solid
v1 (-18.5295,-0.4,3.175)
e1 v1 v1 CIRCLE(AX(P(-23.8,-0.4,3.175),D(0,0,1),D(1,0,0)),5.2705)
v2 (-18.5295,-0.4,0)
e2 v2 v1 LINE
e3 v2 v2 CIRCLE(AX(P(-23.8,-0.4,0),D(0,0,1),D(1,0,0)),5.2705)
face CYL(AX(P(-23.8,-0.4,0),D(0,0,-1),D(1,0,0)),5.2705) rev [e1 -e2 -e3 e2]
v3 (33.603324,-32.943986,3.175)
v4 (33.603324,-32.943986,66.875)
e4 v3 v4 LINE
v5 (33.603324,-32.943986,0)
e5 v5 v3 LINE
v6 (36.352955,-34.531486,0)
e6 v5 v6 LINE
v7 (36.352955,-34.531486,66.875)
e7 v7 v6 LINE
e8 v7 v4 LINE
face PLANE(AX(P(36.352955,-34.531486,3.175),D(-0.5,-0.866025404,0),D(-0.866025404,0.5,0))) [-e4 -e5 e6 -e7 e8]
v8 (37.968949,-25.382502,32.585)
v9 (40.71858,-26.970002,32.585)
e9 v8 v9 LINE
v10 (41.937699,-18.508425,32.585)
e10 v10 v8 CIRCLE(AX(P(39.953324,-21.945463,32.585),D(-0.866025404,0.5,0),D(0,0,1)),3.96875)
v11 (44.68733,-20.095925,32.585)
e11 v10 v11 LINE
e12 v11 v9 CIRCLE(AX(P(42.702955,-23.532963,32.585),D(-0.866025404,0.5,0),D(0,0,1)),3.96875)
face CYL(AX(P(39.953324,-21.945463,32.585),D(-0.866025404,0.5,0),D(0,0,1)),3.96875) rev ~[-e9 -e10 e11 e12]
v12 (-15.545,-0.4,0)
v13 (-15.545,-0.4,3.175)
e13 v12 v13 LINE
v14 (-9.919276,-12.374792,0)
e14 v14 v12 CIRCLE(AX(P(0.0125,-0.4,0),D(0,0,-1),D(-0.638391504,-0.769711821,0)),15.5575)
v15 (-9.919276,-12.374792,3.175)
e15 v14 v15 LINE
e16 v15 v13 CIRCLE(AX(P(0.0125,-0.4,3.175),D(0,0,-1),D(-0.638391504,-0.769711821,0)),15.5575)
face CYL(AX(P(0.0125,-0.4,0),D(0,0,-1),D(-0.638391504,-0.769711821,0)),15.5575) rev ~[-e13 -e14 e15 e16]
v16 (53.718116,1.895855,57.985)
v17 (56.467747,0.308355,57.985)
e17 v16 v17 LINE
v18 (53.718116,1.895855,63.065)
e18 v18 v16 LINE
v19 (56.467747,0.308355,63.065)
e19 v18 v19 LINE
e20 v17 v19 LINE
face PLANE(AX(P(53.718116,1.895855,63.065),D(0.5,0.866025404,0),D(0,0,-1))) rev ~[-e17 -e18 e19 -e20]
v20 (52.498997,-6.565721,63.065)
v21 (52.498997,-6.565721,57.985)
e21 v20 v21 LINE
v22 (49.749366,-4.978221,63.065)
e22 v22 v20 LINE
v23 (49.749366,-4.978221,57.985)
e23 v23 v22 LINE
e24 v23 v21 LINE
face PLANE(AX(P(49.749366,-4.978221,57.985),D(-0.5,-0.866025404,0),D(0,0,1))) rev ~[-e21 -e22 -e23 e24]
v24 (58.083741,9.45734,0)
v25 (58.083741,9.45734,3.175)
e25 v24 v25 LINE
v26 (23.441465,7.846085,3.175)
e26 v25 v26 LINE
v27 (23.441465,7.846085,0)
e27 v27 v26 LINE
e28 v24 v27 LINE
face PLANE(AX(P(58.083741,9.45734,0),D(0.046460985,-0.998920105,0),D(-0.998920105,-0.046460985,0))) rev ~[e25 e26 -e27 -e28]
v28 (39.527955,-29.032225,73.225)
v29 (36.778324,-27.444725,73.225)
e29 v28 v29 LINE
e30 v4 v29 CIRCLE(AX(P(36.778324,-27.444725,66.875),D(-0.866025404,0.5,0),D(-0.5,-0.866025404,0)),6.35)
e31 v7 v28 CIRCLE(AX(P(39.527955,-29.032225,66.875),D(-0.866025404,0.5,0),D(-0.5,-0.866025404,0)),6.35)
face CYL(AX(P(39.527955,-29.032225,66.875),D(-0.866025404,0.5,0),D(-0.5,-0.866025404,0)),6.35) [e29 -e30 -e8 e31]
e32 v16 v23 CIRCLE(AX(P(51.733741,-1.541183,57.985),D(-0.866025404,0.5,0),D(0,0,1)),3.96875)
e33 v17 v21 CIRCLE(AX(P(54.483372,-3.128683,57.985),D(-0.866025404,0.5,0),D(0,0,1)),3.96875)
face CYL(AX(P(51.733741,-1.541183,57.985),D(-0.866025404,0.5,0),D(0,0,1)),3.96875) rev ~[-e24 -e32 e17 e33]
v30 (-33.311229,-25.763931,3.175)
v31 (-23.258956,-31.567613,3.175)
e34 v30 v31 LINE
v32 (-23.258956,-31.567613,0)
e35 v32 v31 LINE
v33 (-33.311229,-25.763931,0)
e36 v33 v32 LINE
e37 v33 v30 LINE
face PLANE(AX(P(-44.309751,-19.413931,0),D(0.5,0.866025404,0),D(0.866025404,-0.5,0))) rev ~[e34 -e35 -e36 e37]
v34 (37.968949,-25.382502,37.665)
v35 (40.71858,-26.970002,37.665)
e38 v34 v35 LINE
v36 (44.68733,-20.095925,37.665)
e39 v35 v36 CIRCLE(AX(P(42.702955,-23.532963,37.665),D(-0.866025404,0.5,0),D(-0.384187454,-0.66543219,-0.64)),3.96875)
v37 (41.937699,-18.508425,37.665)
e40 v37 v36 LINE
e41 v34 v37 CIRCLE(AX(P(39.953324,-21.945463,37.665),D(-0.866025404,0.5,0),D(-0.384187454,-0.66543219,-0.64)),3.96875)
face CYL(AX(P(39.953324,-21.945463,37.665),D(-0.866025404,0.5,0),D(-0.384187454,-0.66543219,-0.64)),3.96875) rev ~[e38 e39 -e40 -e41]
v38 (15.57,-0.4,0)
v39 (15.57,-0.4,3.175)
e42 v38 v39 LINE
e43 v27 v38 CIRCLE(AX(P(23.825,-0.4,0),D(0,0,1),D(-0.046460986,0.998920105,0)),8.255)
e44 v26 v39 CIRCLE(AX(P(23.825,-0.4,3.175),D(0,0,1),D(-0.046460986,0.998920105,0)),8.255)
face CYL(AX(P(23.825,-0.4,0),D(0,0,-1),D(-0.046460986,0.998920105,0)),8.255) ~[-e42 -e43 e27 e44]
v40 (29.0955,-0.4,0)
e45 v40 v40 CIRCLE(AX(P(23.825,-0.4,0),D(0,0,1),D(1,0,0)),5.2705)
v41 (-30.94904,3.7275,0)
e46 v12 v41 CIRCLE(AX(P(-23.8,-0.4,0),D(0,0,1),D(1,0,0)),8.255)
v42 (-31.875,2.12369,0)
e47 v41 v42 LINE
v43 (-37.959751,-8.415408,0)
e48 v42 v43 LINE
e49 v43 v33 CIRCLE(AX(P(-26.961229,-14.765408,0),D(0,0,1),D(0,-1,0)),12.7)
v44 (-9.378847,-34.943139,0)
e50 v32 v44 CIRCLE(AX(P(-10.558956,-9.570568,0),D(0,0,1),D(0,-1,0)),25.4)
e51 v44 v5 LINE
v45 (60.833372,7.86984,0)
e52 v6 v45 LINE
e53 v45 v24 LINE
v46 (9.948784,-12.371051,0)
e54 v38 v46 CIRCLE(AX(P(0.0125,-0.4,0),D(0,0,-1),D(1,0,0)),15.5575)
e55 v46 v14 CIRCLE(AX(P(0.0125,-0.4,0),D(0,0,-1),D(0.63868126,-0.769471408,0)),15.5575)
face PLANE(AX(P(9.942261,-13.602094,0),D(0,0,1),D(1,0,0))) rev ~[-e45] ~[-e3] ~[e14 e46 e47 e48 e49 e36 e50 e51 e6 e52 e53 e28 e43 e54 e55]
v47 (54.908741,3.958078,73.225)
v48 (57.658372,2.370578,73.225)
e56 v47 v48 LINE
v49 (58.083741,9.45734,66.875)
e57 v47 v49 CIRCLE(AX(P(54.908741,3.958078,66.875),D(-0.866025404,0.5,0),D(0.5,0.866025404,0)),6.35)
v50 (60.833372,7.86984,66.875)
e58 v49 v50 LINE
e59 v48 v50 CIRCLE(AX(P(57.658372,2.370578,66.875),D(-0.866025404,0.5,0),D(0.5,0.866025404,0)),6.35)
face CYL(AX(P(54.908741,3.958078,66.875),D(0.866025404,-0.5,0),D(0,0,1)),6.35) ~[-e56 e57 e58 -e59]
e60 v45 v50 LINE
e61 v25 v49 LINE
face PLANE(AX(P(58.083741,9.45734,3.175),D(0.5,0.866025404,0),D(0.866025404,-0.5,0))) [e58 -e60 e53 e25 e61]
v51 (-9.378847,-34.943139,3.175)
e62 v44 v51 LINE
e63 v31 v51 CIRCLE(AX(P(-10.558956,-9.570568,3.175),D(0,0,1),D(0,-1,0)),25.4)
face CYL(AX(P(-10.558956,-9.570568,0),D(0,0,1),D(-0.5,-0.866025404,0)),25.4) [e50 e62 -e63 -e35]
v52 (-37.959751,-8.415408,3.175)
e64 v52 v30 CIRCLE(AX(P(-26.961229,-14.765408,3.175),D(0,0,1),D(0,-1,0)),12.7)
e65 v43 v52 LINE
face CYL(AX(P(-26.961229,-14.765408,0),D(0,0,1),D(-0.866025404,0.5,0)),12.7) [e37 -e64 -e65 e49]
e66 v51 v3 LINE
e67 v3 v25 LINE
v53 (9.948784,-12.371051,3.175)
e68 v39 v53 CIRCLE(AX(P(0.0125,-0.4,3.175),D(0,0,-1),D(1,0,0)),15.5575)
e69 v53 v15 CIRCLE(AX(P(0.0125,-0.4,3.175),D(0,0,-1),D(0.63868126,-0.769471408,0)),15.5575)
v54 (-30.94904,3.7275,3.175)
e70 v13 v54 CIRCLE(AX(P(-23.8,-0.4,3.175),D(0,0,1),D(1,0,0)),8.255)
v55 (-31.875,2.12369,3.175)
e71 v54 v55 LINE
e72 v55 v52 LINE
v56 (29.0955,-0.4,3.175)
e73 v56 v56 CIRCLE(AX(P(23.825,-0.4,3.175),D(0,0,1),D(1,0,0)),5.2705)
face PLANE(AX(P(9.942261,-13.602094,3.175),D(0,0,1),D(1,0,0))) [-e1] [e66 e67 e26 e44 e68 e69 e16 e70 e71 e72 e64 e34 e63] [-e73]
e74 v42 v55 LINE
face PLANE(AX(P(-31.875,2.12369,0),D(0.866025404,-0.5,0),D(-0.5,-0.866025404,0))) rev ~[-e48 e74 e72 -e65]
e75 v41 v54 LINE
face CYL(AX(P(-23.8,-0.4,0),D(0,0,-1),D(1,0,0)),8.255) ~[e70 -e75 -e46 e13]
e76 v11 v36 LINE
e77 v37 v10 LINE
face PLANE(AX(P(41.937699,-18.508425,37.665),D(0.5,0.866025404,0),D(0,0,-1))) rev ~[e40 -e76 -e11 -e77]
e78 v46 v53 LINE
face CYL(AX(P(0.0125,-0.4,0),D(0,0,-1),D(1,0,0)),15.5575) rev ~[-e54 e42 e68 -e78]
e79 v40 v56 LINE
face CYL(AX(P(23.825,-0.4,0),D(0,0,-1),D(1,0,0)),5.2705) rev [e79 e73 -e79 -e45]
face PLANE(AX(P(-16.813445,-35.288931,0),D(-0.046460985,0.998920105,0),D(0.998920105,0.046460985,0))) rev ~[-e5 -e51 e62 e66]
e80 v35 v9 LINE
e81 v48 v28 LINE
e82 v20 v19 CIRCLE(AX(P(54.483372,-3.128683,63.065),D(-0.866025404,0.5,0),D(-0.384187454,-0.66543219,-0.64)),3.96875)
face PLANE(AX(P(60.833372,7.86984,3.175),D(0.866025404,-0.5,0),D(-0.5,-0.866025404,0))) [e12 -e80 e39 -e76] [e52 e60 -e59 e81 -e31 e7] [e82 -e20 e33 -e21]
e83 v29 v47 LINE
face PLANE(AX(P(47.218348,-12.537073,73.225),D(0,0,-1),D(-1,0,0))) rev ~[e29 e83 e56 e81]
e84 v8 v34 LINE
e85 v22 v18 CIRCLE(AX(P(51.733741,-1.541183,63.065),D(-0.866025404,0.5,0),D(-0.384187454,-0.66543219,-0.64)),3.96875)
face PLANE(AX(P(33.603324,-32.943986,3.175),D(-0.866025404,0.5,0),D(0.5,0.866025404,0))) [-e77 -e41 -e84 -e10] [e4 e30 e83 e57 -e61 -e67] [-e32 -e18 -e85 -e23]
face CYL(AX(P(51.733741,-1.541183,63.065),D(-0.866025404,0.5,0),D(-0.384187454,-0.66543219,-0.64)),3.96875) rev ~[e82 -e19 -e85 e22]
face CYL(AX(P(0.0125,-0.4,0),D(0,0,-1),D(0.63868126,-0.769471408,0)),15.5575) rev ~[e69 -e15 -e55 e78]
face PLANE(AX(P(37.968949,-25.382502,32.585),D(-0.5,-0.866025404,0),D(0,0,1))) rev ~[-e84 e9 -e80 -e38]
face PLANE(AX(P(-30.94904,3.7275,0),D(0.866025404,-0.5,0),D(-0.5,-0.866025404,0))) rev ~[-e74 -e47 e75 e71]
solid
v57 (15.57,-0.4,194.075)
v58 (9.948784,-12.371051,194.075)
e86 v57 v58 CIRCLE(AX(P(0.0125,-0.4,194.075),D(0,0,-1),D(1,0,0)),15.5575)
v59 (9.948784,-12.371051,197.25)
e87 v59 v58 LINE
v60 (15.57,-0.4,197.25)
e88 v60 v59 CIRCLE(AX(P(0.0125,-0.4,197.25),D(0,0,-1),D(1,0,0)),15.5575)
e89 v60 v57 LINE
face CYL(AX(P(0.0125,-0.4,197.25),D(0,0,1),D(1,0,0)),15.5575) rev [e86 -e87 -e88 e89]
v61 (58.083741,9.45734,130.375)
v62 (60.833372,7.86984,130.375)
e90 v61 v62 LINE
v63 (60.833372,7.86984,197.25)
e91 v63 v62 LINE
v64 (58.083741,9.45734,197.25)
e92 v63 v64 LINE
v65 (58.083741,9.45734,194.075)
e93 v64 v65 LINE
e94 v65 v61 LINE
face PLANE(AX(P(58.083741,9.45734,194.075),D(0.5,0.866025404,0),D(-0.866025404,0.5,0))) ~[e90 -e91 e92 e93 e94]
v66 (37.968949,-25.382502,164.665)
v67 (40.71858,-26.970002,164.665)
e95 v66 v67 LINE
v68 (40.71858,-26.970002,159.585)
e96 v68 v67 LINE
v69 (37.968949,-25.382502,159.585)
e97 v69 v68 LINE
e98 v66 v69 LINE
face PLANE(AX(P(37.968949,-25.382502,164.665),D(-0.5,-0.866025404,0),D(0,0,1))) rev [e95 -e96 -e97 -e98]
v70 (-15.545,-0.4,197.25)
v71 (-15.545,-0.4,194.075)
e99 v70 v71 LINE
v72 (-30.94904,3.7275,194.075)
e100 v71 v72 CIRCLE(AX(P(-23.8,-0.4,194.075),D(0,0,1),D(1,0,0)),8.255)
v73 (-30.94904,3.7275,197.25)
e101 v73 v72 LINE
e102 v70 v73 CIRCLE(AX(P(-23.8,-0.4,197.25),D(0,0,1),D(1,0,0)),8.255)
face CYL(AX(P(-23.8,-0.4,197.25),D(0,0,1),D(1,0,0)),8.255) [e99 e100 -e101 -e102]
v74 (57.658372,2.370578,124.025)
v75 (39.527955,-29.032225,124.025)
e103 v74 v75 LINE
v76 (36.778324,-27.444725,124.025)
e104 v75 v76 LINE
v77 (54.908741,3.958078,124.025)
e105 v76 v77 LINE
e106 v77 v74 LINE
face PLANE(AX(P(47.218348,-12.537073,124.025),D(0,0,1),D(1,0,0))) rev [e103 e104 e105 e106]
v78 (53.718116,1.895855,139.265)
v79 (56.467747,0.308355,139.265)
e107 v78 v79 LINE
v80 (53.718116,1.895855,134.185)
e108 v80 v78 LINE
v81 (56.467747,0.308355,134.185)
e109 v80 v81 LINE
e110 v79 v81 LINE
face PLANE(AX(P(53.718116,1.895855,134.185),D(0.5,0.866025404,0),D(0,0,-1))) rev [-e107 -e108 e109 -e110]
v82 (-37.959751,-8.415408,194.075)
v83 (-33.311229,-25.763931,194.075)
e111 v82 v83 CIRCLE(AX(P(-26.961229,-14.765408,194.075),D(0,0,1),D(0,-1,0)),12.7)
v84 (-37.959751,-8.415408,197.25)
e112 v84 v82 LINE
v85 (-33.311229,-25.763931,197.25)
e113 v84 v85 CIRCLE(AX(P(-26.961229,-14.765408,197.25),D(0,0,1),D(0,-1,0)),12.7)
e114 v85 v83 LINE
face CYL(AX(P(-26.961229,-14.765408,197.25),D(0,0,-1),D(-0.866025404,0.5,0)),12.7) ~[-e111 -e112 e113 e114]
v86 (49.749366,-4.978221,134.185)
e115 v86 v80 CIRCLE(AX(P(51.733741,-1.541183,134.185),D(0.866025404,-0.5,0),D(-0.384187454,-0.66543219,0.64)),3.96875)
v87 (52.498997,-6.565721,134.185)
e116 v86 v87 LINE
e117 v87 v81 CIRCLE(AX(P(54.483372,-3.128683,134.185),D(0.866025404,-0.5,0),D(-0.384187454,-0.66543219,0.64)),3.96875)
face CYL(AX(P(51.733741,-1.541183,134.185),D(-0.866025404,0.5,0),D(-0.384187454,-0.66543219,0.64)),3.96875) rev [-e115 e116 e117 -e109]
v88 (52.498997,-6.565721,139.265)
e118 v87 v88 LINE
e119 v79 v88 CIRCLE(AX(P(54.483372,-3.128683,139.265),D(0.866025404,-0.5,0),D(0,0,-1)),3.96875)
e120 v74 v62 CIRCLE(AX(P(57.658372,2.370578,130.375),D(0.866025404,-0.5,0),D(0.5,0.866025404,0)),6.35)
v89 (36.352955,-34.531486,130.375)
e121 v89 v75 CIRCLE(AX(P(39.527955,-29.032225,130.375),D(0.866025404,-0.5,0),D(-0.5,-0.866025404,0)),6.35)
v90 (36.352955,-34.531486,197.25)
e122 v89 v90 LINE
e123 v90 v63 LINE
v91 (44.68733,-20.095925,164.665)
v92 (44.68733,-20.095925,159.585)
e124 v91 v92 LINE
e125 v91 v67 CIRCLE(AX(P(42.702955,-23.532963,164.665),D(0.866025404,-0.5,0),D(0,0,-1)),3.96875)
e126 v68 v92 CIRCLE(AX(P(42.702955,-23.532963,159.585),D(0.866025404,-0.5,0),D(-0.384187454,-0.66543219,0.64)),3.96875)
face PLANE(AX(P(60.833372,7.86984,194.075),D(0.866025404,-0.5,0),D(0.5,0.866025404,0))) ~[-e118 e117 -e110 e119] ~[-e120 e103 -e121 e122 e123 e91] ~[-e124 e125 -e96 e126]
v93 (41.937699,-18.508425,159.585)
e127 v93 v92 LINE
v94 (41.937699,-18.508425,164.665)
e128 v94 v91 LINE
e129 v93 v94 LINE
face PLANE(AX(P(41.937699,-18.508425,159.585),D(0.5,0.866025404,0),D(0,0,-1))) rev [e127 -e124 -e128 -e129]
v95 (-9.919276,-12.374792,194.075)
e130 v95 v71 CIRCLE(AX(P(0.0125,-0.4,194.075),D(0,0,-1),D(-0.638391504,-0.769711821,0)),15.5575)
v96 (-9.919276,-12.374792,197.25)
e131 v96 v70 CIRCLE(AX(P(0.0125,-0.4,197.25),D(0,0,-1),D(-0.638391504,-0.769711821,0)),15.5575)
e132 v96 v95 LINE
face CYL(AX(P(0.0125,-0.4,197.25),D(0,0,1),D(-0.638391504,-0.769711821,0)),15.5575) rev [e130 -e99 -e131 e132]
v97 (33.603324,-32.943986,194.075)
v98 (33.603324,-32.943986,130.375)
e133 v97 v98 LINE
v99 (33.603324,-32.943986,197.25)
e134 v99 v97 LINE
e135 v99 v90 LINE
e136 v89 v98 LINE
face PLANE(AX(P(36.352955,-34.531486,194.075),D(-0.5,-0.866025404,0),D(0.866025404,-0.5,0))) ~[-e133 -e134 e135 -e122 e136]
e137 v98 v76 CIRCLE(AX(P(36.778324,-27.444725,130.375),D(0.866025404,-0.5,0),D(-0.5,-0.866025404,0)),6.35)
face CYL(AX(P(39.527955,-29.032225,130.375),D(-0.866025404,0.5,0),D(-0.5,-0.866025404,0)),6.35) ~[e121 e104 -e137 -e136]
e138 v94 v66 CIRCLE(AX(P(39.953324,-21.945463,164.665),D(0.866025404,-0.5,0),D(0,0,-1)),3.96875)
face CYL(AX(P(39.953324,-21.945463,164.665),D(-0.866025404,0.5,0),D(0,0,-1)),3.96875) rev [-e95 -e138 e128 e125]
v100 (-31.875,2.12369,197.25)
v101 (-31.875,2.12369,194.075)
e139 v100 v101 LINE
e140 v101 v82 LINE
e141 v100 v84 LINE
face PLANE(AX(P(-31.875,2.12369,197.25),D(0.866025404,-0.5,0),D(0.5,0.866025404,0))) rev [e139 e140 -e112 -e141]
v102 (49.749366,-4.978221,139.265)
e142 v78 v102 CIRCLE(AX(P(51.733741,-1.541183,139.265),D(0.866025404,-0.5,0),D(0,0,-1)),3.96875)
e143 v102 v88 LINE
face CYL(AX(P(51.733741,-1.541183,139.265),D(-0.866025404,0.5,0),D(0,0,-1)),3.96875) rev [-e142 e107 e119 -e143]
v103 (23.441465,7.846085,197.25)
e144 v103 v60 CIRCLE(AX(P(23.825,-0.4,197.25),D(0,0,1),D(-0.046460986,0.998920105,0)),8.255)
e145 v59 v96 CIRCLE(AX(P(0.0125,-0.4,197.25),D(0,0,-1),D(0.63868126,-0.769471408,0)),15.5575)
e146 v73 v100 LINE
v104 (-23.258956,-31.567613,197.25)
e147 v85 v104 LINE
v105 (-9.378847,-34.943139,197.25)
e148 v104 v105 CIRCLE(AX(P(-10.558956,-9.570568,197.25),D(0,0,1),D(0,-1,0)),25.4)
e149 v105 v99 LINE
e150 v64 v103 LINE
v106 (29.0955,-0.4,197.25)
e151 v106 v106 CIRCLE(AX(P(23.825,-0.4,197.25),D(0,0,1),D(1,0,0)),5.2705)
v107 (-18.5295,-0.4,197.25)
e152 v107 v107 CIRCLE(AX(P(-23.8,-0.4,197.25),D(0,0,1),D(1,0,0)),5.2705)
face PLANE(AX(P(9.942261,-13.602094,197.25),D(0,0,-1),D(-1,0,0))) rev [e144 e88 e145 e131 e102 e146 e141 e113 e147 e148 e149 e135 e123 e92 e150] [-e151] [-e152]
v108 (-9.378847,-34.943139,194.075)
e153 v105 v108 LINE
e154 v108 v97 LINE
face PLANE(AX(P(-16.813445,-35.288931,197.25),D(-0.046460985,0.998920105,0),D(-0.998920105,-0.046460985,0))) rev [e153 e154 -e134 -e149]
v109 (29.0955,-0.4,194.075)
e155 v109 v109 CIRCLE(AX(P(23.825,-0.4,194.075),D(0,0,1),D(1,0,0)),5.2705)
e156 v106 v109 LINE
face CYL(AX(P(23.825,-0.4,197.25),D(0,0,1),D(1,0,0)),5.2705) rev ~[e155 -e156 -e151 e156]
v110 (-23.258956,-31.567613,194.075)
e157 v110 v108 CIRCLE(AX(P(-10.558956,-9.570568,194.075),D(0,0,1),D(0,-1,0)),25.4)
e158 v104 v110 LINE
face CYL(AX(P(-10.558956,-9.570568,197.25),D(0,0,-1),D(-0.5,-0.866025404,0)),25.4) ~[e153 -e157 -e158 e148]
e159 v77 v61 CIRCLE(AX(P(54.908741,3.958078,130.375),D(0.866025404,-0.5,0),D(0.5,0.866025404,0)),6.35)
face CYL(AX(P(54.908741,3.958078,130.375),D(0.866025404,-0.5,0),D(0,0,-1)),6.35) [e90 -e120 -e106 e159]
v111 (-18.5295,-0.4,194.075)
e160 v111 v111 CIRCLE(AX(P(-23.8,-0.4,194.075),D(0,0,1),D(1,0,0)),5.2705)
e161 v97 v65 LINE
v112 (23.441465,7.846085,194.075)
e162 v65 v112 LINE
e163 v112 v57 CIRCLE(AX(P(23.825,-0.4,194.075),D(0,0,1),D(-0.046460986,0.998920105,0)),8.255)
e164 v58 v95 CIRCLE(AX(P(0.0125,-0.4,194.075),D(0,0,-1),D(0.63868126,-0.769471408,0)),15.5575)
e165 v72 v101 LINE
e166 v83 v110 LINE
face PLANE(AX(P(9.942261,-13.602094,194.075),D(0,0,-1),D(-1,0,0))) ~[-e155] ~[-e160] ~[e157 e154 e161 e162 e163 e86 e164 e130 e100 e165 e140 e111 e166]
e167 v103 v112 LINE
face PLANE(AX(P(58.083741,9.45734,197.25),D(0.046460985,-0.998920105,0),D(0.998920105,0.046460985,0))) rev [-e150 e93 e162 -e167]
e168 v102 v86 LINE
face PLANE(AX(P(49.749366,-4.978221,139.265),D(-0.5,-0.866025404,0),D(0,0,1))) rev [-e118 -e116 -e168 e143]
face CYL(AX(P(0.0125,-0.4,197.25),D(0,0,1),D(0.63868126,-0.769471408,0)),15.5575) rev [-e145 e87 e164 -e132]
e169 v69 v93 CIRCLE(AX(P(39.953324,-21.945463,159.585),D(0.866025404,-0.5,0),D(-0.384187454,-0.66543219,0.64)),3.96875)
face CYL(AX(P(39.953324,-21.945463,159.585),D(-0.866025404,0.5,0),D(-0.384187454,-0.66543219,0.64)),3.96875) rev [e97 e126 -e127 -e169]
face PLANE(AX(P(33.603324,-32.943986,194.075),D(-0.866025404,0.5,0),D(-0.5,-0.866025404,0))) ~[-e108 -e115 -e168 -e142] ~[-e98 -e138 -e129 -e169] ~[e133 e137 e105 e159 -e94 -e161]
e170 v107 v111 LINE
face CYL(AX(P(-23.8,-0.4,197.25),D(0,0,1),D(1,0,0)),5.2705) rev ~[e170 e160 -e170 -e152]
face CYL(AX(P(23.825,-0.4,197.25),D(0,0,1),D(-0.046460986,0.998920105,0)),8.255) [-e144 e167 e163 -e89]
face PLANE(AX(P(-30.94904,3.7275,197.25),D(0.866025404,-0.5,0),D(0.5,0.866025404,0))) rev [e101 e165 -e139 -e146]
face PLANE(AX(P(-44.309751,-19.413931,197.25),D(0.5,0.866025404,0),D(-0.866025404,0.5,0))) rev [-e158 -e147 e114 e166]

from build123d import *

# Parameters (mm, degrees)
SKETCH3_R           = 5.2705
BOSS_EXTRUDE1_DEPTH = 3.175
BOSS_EXTRUDE2_DEPTH = 70.05
FILLET1_R           = 12.7
FILLET3_R           = 25.4
SKETCH5_R           = 3.96875
CUT_EXTRUDE1_DEPTH  = 6.35
FILLET4_R           = 6.35


with BuildPart() as part:
    # Sketch3 → Boss-Extrude1 (new body)
    with BuildSketch(Plane.XY):
        with BuildLine():
            Line((-31.875, 1.314467847), (-31.875, 2.123689729))
            Line((-31.875, 2.123689729), (-44.309751158, -19.413931056))
            Line((-44.309751158, -19.413931056), (-16.813444588, -35.288931056))
            Line((-16.813444588, -35.288931056), (33.603324087, -32.943986013))
            Line((33.603324087, -32.943986013), (36.352954744, -34.531486013))
            Line((36.352954744, -34.531486013), (60.833371586, 7.869839748))
            Line((60.833371586, 7.869839748), (58.083740929, 9.457339748))
            Line((58.083740929, 9.457339748), (23.441464566, 7.84608547))
            ThreePointArc((23.441464566, 7.84608547), (28.824079828, 6.169187612), (31.875, 1.428257367))
            ThreePointArc((31.875, 1.428257367), (32.028589915, 0.519857326), (32.08, -0.4))
            ThreePointArc((32.08, -0.4), (32.028589915, -1.319857326), (31.875, -2.228257367))
            Line((31.875, -2.228257367), (31.875, -6.284053394))
            ThreePointArc((31.875, -6.284053394), (21.132205448, -10.12115273), (9.948783703, -12.371051434))
            ThreePointArc((9.948783703, -12.371051434), (0.015428746, -15.957499724), (-9.919275826, -12.374791656))
            ThreePointArc((-9.919275826, -12.374791656), (-21.117875037, -10.125129582), (-31.875, -6.284053394))
            Line((-31.875, -6.284053394), (-31.875, -2.114467847))
            ThreePointArc((-31.875, -2.114467847), (-32.055, -0.4), (-31.875, 1.314467847))
        make_face()
        with BuildLine():
            ThreePointArc((15.57, -0.4), (14.094750174, -7.012566542), (9.948783703, -12.371051434))
            ThreePointArc((9.948783703, -12.371051434), (21.132205448, -10.12115273), (31.875, -6.284053394))
            Line((31.875, -6.284053394), (31.875, -2.228257367))
            ThreePointArc((31.875, -2.228257367), (22.905142674, -8.603589915), (15.57, -0.4))
        make_face()
        with BuildLine():
            ThreePointArc((23.441464566, 7.84608547), (17.853772739, 5.299953508), (15.57, -0.4))
            ThreePointArc((15.57, -0.4), (22.905142674, -8.603589915), (31.875, -2.228257367))
            Line((31.875, -2.228257367), (31.875, 1.428257367))
            ThreePointArc((31.875, 1.428257367), (28.824079828, 6.169187612), (23.441464566, 7.84608547))
        make_face()
        with Locations((23.825, -0.4)):
            Circle(SKETCH3_R, mode=Mode.SUBTRACT)
        with BuildLine():
            ThreePointArc((-9.919275826, -12.374791656), (-14.068505089, -7.015217451), (-15.545, -0.4))
            ThreePointArc((-15.545, -0.4), (-22.938054526, -8.609876674), (-31.875, -2.114467847))
            Line((-31.875, -2.114467847), (-31.875, -6.284053394))
            ThreePointArc((-31.875, -6.284053394), (-21.117875037, -10.125129582), (-9.919275826, -12.374791656))
        make_face()
        with BuildLine():
            ThreePointArc((-15.545, -0.4), (-21.663448783, 7.573717696), (-30.949039708, 3.7275))
            ThreePointArc((-30.949039708, 3.7275), (-31.507044005, 2.557447835), (-31.875, 1.314467847))
            Line((-31.875, 1.314467847), (-31.875, -2.114467847))
            ThreePointArc((-31.875, -2.114467847), (-22.938054526, -8.609876674), (-15.545, -0.4))
        make_face()
        with Locations((-23.8, -0.4)):
            Circle(SKETCH3_R, mode=Mode.SUBTRACT)
        with BuildLine():
            Line((31.875, 1.428257367), (31.875, -2.228257367))
            ThreePointArc((31.875, -2.228257367), (32.028589915, -1.319857326), (32.08, -0.4))
            ThreePointArc((32.08, -0.4), (32.028589915, 0.519857326), (31.875, 1.428257367))
        make_face()
        with BuildLine():
            Line((-31.875, -2.114467847), (-31.875, 1.314467847))
            ThreePointArc((-31.875, 1.314467847), (-32.055, -0.4), (-31.875, -2.114467847))
        make_face()
        with BuildLine():
            ThreePointArc((-31.875, 1.314467847), (-31.507044005, 2.557447835), (-30.949039708, 3.7275))
            Line((-30.949039708, 3.7275), (-31.875, 2.123689729))
            Line((-31.875, 2.123689729), (-31.875, 1.314467847))
        make_face()
    extrude(amount=BOSS_EXTRUDE1_DEPTH)

    # Sketch4 → Boss-Extrude2 (add)
    with BuildSketch(Plane.XY.offset(3.175)):
        Polygon((60.833371586, 7.869839748), (36.352954744, -34.531486013), (33.603324087, -32.943986013), (58.083740929, 9.457339748), align=None)
    extrude(amount=BOSS_EXTRUDE2_DEPTH)

    # Fillet1
    fillet1_edges = [part.edges().sort_by_distance(p)[0] for p in [
        (-44.309751158, -19.413931056, 1.5875),
    ]]
    fillet(fillet1_edges, radius=FILLET1_R)

    # Fillet3
    fillet3_edges = [part.edges().sort_by_distance(p)[0] for p in [
        (-16.813444588, -35.288931056, 1.5875),
    ]]
    fillet(fillet3_edges, radius=FILLET3_R)

    # Sketch5 → Cut-Extrude1 (cut)
    with BuildSketch(Plane(origin=(39.46765746, -22.786662659, 0), x_dir=(0, 0, 1), z_dir=(-0.866025404, 0.5, 0))):
        with Locations((37.665, 0.971333254)):
            Circle(SKETCH5_R)
        with Locations((32.585, 0.971333254)):
            Circle(SKETCH5_R)
        with BuildLine():
            Line((37.665, 4.940083254), (32.585, 4.940083254))
            ThreePointArc((32.585, 4.940083254), (33.935614932, 4.703198186), (35.125, 4.020821172))
            ThreePointArc((35.125, 4.020821172), (36.314385068, 4.703198186), (37.665, 4.940083254))
        make_face()
        with BuildLine():
            ThreePointArc((35.125, -2.078154664), (33.935614932, -2.760531678), (32.585, -2.997416746))
            Line((32.585, -2.997416746), (37.665, -2.997416746))
            ThreePointArc((37.665, -2.997416746), (36.314385068, -2.760531678), (35.125, -2.078154664))
        make_face()
        with Locations((63.065, 24.532166939)):
            Circle(SKETCH5_R)
        with Locations((57.985, 24.532166939)):
            Circle(SKETCH5_R)
        with BuildLine():
            Line((63.065, 28.500916939), (57.985, 28.500916939))
            ThreePointArc((57.985, 28.500916939), (59.335614932, 28.26403187), (60.525, 27.581654857))
            ThreePointArc((60.525, 27.581654857), (61.714385068, 28.26403187), (63.065, 28.500916939))
        make_face()
        with BuildLine():
            ThreePointArc((60.525, 21.482679021), (59.335614932, 20.800302007), (57.985, 20.563416939))
            Line((57.985, 20.563416939), (63.065, 20.563416939))
            ThreePointArc((63.065, 20.563416939), (61.714385068, 20.800302007), (60.525, 21.482679021))
        make_face()
    extrude(amount=-CUT_EXTRUDE1_DEPTH, mode=Mode.SUBTRACT)

    # Fillet4
    fillet4_edges = [part.edges().sort_by_distance(p)[0] for p in [
        (34.978139415, -33.737736013, 73.225),
        (59.458556258, 8.663589748, 73.225),
    ]]
    fillet(fillet4_edges, radius=FILLET4_R)


with BuildPart() as body_2:
    # Mirror3: mirrored copy
    add(part.part.mirror(Plane.XY.offset(98.625)))


solid = Compound([part.part, body_2.part])
